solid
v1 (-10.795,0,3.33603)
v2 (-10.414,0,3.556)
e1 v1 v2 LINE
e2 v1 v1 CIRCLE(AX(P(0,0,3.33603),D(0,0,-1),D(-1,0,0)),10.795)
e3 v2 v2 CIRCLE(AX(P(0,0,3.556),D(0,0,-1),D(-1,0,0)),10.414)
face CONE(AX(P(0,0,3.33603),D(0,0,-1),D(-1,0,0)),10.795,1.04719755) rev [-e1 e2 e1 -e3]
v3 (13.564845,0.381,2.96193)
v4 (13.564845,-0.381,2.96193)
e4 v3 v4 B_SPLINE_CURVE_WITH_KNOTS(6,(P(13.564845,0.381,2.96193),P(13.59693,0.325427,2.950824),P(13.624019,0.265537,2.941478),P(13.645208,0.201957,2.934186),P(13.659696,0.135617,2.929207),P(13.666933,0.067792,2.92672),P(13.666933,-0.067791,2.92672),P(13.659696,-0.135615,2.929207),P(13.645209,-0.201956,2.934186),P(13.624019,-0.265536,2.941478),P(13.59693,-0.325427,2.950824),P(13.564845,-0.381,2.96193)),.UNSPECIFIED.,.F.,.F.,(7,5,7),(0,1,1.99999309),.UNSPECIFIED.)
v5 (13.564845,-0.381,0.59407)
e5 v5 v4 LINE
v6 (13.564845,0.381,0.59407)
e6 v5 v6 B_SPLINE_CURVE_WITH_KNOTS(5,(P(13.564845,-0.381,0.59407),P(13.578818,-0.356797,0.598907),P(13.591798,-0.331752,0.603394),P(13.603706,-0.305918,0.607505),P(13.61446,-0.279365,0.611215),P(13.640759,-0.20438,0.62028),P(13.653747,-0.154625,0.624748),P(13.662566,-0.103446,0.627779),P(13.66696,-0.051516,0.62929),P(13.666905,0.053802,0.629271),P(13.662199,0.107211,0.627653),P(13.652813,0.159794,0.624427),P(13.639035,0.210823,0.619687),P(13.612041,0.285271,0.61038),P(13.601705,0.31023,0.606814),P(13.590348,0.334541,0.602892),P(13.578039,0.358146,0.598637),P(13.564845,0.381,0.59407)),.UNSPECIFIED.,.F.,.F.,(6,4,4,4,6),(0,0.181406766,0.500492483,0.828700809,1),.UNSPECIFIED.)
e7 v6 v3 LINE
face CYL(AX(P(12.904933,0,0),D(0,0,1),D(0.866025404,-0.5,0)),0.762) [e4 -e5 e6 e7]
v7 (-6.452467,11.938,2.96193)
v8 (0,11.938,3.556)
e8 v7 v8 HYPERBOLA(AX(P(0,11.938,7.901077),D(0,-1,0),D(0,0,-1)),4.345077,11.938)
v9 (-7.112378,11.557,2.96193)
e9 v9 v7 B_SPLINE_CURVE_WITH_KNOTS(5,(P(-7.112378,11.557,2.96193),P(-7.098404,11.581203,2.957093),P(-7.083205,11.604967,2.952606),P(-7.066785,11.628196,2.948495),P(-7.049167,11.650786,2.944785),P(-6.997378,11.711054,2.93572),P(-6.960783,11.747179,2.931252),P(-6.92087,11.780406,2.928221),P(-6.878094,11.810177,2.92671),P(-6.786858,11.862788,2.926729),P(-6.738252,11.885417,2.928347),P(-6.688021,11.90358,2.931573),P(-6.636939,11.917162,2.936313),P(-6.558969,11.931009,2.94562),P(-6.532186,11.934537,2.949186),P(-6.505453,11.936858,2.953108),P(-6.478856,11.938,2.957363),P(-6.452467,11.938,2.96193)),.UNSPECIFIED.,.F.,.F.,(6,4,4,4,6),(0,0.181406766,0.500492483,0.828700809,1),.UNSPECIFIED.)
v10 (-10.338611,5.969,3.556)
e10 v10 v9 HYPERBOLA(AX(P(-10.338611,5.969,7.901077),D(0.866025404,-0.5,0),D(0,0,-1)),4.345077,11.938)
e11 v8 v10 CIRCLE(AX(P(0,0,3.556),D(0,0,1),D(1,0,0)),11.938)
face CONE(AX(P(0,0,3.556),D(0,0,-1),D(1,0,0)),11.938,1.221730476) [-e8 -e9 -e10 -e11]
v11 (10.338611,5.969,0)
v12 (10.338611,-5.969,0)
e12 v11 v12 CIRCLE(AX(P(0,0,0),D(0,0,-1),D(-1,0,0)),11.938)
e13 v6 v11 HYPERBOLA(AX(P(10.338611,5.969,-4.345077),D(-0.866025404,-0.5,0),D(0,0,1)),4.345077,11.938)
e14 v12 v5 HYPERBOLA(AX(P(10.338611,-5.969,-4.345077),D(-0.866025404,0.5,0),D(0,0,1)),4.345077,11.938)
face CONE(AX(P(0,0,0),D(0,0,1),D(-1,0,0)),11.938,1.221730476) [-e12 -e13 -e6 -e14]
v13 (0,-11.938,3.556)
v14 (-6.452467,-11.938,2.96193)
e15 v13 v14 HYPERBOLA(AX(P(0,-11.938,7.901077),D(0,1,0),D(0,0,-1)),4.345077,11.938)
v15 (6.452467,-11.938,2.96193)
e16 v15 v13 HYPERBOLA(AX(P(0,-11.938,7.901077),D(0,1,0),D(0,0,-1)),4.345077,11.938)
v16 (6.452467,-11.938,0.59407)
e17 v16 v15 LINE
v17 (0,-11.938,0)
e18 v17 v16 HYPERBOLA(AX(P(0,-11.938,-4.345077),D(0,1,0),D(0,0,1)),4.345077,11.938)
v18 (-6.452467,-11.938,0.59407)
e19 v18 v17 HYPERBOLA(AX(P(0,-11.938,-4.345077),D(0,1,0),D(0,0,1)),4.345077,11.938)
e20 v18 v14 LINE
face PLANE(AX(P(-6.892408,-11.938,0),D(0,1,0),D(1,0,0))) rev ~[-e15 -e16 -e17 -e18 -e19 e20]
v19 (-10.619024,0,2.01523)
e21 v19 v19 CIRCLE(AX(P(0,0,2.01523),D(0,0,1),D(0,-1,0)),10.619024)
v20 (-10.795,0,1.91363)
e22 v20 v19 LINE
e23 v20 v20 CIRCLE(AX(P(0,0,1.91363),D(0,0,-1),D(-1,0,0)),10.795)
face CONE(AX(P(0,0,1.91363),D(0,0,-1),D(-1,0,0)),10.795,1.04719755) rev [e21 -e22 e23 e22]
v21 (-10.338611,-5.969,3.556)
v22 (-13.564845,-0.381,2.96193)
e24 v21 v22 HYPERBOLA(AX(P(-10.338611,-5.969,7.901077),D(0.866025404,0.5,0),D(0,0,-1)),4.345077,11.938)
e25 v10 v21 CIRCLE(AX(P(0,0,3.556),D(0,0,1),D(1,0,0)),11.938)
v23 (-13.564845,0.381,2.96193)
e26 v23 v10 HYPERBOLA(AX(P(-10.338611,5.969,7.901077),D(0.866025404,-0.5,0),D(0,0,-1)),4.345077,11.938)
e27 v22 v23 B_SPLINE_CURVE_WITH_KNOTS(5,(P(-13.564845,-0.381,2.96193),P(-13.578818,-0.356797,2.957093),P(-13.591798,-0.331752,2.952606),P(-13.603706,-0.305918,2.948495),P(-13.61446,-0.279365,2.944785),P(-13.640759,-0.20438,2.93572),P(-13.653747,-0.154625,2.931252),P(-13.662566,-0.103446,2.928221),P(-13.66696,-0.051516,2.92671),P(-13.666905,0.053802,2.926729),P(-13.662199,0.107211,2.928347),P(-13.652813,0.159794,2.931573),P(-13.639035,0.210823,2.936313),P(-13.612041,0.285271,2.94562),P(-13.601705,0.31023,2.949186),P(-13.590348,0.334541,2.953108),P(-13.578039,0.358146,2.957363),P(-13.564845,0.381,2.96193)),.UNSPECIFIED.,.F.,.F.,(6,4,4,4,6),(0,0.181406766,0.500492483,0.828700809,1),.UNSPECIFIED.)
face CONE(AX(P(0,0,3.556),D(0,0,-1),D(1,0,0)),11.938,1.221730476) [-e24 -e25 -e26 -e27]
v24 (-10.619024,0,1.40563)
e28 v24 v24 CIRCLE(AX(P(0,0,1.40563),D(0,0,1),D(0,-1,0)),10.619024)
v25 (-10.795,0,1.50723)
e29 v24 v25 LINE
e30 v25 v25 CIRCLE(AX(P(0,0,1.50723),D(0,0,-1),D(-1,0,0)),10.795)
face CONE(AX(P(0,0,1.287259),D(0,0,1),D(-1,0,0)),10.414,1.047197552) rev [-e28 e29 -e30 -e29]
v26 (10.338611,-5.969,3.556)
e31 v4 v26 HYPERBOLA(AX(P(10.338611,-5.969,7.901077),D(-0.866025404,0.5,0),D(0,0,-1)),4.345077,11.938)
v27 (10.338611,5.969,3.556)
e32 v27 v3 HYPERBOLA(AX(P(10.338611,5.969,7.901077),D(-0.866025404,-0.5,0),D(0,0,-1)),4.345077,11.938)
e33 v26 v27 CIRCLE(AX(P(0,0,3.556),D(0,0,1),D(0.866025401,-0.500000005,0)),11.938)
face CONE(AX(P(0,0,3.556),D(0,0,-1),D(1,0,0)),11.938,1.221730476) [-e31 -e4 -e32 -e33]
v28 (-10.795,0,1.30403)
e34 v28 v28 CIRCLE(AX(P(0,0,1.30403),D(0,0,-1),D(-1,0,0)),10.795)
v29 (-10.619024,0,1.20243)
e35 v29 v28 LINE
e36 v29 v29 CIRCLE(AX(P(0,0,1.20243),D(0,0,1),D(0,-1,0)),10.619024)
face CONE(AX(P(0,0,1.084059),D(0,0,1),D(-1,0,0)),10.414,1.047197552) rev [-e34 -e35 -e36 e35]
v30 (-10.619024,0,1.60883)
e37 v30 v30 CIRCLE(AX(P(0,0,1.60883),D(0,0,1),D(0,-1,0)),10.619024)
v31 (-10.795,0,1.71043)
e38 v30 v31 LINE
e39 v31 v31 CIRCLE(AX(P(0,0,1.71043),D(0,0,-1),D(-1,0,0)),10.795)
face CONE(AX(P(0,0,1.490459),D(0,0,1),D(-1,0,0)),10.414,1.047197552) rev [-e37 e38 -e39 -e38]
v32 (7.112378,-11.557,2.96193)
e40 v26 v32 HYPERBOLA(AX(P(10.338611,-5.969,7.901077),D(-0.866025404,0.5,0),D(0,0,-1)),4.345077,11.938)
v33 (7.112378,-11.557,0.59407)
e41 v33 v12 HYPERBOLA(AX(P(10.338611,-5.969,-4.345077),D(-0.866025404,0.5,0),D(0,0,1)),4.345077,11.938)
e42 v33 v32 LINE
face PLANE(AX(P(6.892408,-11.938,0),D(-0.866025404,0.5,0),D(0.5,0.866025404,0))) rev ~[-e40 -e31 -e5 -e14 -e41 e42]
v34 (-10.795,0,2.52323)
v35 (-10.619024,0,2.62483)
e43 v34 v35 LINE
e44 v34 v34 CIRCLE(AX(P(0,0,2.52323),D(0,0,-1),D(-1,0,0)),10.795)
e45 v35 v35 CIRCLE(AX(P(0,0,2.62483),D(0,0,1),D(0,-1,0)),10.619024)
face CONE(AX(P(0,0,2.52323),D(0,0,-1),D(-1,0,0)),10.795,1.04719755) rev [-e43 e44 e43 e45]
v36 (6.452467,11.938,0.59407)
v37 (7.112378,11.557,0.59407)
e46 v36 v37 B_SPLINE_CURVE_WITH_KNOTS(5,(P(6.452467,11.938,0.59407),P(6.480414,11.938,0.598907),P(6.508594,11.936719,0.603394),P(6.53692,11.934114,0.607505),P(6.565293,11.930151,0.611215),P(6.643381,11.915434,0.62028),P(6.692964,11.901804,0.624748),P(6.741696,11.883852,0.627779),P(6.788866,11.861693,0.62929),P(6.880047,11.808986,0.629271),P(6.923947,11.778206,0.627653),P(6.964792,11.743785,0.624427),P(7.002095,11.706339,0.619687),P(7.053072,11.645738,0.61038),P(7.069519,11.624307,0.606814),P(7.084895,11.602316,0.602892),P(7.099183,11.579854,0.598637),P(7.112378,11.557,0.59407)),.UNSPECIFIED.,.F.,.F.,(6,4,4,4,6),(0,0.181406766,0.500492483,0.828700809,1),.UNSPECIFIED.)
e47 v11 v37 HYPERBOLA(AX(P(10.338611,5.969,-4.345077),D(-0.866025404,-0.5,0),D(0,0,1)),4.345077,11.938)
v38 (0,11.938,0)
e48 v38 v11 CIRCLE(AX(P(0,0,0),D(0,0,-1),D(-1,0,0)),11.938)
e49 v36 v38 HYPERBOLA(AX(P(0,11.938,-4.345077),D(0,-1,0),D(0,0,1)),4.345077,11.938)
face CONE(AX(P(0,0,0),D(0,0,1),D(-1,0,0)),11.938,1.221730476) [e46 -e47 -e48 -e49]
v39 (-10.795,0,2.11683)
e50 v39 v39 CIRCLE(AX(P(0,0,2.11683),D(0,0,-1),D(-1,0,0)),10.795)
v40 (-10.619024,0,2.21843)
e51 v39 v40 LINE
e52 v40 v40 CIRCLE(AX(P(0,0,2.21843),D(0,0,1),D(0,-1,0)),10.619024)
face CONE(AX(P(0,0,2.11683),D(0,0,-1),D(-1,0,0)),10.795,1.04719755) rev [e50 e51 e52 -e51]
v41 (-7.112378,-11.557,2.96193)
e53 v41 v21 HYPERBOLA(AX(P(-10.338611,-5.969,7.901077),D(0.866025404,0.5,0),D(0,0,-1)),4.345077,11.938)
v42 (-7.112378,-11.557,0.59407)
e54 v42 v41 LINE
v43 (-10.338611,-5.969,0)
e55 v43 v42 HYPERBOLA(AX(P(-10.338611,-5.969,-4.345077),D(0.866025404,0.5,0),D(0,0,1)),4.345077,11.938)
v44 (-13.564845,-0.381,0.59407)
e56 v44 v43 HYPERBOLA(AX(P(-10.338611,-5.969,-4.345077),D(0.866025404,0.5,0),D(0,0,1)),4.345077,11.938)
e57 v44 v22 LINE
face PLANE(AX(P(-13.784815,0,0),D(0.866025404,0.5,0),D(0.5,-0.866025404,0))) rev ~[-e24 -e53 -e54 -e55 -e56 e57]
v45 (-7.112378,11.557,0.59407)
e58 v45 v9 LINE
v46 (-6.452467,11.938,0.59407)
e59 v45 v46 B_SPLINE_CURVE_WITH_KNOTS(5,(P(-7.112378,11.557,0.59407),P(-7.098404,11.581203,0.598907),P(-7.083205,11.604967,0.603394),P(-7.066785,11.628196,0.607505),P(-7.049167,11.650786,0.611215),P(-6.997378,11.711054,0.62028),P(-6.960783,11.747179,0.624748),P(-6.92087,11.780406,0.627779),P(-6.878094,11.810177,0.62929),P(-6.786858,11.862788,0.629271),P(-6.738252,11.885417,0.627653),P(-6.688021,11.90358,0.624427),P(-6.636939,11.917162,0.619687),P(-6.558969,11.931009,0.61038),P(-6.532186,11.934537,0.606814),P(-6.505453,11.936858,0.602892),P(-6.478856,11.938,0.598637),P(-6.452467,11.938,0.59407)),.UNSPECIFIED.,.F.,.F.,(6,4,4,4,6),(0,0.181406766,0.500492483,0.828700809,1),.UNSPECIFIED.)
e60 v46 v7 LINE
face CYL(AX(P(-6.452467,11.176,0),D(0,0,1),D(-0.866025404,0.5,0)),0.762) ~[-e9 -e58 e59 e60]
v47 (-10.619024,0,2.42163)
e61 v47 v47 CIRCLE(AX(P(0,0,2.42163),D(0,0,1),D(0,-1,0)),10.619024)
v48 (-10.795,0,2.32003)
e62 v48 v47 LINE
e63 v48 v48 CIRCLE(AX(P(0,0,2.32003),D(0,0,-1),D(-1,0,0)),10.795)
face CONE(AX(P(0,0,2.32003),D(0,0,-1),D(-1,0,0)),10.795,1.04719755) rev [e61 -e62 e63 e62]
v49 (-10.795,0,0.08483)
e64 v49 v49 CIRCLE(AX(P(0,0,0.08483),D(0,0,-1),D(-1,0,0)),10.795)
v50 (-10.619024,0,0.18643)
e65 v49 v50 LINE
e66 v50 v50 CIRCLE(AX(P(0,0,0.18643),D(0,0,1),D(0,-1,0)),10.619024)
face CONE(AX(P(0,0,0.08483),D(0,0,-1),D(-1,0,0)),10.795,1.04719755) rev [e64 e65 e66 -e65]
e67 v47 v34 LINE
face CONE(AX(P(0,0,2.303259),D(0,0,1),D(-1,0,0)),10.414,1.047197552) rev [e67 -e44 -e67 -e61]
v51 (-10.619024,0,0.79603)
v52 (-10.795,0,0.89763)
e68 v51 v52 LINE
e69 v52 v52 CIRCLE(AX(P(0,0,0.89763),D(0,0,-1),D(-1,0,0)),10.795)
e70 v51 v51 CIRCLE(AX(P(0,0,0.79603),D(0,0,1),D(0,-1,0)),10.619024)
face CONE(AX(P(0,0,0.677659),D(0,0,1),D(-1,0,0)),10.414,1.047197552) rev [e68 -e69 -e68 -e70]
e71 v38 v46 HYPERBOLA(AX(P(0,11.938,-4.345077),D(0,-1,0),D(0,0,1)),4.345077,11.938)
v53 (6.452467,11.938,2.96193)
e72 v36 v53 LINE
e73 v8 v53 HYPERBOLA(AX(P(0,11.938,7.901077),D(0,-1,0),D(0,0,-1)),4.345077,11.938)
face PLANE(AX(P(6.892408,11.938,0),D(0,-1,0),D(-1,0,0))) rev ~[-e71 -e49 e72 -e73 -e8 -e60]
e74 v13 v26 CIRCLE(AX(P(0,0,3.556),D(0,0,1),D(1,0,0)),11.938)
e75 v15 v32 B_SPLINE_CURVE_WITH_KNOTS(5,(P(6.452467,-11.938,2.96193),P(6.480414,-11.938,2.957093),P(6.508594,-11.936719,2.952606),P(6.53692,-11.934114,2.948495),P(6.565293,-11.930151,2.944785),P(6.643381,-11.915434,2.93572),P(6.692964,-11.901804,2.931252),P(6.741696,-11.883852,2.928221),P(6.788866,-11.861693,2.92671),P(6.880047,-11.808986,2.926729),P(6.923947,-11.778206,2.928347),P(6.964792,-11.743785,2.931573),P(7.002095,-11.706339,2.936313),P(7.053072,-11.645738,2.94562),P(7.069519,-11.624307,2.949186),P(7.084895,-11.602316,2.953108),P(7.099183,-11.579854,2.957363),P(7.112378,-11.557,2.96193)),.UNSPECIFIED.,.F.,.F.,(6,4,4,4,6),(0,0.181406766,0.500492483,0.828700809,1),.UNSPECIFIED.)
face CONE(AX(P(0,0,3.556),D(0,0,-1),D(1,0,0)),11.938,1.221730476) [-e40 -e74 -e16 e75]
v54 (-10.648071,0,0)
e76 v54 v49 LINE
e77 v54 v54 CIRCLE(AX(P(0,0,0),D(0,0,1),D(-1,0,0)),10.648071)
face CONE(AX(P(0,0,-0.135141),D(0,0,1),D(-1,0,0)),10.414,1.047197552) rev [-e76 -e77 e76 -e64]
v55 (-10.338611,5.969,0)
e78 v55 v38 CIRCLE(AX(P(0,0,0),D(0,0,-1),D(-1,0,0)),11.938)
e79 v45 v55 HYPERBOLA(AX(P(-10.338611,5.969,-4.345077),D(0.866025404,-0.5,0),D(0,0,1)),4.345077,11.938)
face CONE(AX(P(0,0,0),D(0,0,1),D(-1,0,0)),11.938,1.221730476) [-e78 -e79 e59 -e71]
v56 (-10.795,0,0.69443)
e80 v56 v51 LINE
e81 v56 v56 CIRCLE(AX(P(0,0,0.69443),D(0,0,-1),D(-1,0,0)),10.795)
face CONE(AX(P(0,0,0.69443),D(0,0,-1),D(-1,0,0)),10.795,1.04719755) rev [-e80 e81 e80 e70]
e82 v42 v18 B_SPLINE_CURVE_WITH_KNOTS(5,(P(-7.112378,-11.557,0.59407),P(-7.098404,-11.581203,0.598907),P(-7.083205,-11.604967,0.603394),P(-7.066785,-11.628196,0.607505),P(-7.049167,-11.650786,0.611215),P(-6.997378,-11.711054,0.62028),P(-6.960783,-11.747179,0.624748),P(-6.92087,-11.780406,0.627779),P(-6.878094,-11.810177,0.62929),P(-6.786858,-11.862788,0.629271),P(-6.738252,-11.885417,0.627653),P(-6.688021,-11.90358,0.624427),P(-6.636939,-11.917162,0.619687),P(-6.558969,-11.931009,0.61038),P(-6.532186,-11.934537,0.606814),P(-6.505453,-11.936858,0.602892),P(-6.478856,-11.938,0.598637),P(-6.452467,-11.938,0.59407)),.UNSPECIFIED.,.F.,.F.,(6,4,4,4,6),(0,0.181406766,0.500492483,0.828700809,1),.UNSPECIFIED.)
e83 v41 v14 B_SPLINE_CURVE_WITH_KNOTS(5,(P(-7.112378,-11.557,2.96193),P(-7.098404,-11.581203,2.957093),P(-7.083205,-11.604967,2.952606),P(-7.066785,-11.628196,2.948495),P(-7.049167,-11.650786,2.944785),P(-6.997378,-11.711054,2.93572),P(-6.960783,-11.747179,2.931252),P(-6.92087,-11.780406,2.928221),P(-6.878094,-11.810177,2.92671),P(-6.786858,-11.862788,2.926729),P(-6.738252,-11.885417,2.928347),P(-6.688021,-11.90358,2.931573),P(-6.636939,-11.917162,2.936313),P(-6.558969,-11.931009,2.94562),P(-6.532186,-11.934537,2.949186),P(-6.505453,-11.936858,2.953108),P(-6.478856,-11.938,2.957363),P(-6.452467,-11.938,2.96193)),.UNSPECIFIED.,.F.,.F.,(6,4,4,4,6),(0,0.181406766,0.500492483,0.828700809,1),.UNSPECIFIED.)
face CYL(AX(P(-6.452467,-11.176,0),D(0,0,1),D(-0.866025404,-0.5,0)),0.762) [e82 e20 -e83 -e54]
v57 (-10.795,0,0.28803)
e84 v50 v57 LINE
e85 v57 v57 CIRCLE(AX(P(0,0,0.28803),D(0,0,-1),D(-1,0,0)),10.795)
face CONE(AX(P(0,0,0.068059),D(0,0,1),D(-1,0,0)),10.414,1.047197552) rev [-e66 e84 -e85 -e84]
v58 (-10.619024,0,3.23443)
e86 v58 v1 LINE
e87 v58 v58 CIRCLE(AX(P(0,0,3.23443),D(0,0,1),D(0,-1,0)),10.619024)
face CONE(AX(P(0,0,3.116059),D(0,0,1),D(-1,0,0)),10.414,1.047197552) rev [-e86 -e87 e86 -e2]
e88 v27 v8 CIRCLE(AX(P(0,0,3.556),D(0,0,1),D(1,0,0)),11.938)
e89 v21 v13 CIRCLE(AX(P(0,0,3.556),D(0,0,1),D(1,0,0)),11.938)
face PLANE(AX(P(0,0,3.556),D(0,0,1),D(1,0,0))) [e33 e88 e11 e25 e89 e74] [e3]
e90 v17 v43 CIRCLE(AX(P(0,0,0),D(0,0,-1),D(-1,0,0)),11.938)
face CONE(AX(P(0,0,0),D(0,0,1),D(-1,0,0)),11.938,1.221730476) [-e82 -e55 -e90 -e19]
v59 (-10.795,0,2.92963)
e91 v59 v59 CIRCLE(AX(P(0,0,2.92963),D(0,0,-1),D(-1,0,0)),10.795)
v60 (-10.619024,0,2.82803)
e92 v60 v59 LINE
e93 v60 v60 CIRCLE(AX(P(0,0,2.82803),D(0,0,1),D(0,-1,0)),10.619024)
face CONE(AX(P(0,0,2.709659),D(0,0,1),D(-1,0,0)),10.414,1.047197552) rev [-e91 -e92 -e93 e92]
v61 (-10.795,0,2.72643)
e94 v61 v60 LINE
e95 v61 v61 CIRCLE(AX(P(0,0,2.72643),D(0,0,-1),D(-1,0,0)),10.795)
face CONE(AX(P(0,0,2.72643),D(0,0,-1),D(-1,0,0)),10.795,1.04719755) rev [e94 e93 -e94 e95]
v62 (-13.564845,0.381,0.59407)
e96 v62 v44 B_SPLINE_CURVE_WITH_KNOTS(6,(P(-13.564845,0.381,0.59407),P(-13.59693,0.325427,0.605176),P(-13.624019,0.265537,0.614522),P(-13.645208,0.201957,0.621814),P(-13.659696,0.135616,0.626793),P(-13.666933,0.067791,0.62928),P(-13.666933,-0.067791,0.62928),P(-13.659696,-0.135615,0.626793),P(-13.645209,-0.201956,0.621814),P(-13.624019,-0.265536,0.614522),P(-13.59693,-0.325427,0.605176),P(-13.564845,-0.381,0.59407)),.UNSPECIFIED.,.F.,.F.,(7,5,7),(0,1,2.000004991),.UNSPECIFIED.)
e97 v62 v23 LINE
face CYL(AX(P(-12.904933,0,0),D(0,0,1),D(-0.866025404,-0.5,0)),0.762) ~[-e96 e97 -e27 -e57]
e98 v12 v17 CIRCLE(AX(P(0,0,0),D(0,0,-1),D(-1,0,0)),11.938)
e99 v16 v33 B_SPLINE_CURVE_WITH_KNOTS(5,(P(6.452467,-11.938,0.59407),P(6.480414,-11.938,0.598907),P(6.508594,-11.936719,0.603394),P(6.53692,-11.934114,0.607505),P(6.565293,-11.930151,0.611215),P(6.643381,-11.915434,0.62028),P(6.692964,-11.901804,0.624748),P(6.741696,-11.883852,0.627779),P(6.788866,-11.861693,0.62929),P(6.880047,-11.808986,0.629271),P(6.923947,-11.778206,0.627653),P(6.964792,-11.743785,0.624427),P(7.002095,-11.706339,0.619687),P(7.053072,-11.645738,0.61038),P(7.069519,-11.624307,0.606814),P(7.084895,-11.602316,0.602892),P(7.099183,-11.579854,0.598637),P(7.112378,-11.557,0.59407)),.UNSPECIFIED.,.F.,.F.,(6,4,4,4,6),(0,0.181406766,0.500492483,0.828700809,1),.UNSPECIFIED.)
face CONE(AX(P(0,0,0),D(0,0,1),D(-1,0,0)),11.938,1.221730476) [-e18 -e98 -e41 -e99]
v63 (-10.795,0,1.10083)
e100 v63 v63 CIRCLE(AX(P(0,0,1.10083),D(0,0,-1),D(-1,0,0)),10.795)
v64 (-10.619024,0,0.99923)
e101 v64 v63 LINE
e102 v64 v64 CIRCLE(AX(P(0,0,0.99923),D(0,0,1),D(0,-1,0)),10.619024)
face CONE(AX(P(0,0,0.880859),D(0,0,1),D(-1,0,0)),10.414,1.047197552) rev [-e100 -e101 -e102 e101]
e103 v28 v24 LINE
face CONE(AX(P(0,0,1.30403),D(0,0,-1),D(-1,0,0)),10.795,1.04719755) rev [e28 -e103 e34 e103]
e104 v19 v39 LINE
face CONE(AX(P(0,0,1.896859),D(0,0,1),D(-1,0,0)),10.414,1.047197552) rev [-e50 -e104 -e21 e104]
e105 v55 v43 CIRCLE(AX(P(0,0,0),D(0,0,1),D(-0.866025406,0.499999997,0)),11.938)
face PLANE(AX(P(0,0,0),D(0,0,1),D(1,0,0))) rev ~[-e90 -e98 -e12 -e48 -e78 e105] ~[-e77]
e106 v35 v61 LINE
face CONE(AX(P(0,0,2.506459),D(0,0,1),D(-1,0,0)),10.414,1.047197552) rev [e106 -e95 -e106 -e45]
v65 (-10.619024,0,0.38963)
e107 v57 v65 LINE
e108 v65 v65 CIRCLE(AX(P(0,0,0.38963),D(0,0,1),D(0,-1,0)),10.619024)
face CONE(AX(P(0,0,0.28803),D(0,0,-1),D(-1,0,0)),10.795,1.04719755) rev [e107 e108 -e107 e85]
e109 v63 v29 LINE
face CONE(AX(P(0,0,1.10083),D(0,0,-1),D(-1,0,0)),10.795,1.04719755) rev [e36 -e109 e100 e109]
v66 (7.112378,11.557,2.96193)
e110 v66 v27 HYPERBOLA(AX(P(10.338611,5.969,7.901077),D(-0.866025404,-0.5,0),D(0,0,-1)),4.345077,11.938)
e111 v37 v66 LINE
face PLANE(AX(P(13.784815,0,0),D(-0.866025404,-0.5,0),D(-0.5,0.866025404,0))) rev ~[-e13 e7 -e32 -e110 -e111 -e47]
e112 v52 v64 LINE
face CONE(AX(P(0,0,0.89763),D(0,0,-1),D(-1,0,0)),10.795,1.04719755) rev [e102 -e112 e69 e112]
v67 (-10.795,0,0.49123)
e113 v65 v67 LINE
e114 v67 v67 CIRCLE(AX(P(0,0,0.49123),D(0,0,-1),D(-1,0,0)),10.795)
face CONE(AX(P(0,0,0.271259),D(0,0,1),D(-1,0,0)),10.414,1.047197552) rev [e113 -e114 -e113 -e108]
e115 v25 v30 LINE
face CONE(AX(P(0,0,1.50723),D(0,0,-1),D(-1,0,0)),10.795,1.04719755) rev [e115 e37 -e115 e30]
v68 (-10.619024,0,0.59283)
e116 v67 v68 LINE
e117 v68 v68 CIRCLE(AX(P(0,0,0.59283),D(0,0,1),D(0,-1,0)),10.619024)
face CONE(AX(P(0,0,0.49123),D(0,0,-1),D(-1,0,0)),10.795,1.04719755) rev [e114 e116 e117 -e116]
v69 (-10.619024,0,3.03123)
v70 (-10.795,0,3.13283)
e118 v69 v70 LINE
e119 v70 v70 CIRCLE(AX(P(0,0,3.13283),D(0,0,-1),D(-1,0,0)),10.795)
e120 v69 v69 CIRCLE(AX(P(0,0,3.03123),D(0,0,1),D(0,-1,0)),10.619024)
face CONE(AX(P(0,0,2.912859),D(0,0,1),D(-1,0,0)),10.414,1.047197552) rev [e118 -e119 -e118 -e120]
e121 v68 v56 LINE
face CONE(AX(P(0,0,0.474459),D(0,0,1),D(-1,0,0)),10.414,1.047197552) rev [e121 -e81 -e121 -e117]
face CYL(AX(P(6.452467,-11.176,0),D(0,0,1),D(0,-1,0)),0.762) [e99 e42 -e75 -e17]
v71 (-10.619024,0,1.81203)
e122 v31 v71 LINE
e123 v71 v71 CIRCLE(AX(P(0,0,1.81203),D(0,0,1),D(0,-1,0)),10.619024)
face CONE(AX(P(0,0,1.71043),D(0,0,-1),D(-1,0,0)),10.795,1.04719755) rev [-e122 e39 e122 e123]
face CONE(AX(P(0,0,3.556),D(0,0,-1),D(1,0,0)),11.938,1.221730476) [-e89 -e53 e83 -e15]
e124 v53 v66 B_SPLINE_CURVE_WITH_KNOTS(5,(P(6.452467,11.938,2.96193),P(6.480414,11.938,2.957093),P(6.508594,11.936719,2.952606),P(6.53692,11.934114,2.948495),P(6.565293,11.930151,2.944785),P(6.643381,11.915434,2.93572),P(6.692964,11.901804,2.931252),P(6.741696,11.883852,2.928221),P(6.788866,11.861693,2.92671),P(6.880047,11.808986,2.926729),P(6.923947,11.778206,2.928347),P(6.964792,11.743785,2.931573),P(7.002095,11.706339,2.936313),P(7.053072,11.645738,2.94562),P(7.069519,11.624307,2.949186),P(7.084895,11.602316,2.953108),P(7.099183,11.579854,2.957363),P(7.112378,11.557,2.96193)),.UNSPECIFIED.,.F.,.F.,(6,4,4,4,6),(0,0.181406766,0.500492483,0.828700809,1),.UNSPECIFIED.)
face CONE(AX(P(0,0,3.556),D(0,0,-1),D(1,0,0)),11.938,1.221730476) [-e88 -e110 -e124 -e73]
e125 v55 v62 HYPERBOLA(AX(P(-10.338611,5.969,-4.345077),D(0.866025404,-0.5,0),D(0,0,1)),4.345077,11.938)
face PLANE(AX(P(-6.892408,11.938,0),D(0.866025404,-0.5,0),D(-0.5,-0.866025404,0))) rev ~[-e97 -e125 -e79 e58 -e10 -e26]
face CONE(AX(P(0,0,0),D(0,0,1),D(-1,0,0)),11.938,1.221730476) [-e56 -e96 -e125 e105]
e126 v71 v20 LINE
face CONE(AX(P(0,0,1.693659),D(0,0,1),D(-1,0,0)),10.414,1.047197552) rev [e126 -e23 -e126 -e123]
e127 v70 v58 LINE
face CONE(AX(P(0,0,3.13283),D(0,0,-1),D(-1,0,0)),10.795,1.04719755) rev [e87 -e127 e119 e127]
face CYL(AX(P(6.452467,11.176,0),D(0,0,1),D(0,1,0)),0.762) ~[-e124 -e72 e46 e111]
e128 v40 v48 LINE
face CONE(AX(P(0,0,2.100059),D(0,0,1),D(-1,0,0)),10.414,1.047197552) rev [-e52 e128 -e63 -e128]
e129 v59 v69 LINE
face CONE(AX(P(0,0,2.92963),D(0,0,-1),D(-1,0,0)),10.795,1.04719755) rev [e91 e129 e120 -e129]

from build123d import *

# Parameters (mm, degrees)
SKETCH1_R          = 10.414
EXTRUDE1_DEPTH     = 3.556
FILLET1_R          = 0.762
SKETCH2_OUTSIDE_W  = 61.662
SKETCH2_OUTSIDE_H  = 58.204
SKETCH2_OUTSIDE_R  = 11.938
CUT_EXTRUDE1_DEPTH = 4.556
CUT_EXTRUDE1_DRAFT = -70
SKETCH3_OUTSIDE_W  = 61.662
SKETCH3_OUTSIDE_H  = 58.204
SKETCH3_OUTSIDE_R  = 11.938
CUT_EXTRUDE2_DEPTH = 4.5560001
CUT_EXTRUDE2_DRAFT = -70
LPATTERN1_COUNT    = 18
LPATTERN1_PITCH    = 0.2032


with BuildPart() as part:
    # Sketch1 → Extrude1 (new body)
    with BuildSketch(Plane.XY):
        Polygon((-13.784815027, 0), (-6.892407514, -11.938), (6.892407514, -11.938), (13.784815027, 0), (6.892407514, 11.938), (-6.892407514, 11.938), align=None)
        Circle(SKETCH1_R, mode=Mode.SUBTRACT)
    extrude(amount=EXTRUDE1_DEPTH)

    # Fillet1
    fillet1_edges = [part.edges().sort_by_distance(p)[0] for p in [
        (13.784815027, 0, 1.778),
        (6.892407514, -11.938, 1.778),
        (-6.892407514, -11.938, 1.778),
        (-13.784815027, 0, 1.778),
        (-6.892407514, 11.938, 1.778),
        (6.892407514, 11.938, 1.778),
    ]]
    fillet(fillet1_edges, radius=FILLET1_R)


with BuildPart() as cut_extrude1_tool:
    # Sketch2 outside → Cut-Extrude1 (with draft: the straight prism first)
    with BuildSketch(Plane.XY.offset(3.556)):
        Rectangle(SKETCH2_OUTSIDE_W, SKETCH2_OUTSIDE_H)
        Circle(SKETCH2_OUTSIDE_R, mode=Mode.SUBTRACT)
    extrude(amount=-CUT_EXTRUDE1_DEPTH)
    # Cut-Extrude1: the draft: its side faces are tilted about the plane it starts from
    cut_extrude1_sides = [cut_extrude1_tool.faces().sort_by_distance(p)[0] for p in [
        (0, -29.102, 1.278),
        (30.831, 0, 1.278),
        (0, 29.102, 1.278),
        (-30.831, 0, 1.278),
        (-11.938, 0, 1.278),
    ]]
    draft(cut_extrude1_sides, Plane.XY.offset(3.556), CUT_EXTRUDE1_DRAFT)


with BuildPart() as part_1:
    add(part.part)

    # Cut-Extrude1: cut by cut_extrude1_tool
    add(cut_extrude1_tool.part, mode=Mode.SUBTRACT)


with BuildPart() as cut_extrude2_tool:
    # Sketch3 outside → Cut-Extrude2 (with draft: the straight prism first)
    with BuildSketch(Plane(origin=(0, 0, 0), x_dir=(-1, 0, 0), z_dir=(0, 0, -1))):
        Rectangle(SKETCH3_OUTSIDE_W, SKETCH3_OUTSIDE_H)
        Circle(SKETCH3_OUTSIDE_R, mode=Mode.SUBTRACT)
    extrude(amount=-CUT_EXTRUDE2_DEPTH)
    # Cut-Extrude2: the draft: its side faces are tilted about the plane it starts from
    cut_extrude2_sides = [cut_extrude2_tool.faces().sort_by_distance(p)[0] for p in [
        (0, -29.102, 2.27800005),
        (-30.831, 0, 2.27800005),
        (0, 29.102, 2.27800005),
        (30.831, 0, 2.27800005),
        (11.938, 0, 2.27800005),
    ]]
    draft(cut_extrude2_sides, Plane(origin=(0, 0, 0), x_dir=(-1, 0, 0), z_dir=(0, 0, -1)), CUT_EXTRUDE2_DRAFT)


with BuildPart() as part_2:
    add(part_1.part)

    # Cut-Extrude2: cut by cut_extrude2_tool
    add(cut_extrude2_tool.part, mode=Mode.SUBTRACT)

    # Sketch4 → Cut-Revolve1 (revolve, cut)
    with BuildSketch(Plane(origin=(0, 0, 0), x_dir=(1, 0, 0), z_dir=(0, 1, 0))):
        Polygon((-10.414, -3.556), (-10.414, -3.116059095), (-10.795, -3.336029547), align=None)
    cut_revolve1 = revolve(axis=Axis((0, 0, 3.556), (0, 0, -1)), mode=Mode.SUBTRACT)

    # LPattern1: Cut-Revolve1 ×18
    with Locations(*[(0, 0, -i * LPATTERN1_PITCH) for i in range(1, LPATTERN1_COUNT)]):
        add(cut_revolve1, mode=Mode.SUBTRACT)


solid = part_2.part
